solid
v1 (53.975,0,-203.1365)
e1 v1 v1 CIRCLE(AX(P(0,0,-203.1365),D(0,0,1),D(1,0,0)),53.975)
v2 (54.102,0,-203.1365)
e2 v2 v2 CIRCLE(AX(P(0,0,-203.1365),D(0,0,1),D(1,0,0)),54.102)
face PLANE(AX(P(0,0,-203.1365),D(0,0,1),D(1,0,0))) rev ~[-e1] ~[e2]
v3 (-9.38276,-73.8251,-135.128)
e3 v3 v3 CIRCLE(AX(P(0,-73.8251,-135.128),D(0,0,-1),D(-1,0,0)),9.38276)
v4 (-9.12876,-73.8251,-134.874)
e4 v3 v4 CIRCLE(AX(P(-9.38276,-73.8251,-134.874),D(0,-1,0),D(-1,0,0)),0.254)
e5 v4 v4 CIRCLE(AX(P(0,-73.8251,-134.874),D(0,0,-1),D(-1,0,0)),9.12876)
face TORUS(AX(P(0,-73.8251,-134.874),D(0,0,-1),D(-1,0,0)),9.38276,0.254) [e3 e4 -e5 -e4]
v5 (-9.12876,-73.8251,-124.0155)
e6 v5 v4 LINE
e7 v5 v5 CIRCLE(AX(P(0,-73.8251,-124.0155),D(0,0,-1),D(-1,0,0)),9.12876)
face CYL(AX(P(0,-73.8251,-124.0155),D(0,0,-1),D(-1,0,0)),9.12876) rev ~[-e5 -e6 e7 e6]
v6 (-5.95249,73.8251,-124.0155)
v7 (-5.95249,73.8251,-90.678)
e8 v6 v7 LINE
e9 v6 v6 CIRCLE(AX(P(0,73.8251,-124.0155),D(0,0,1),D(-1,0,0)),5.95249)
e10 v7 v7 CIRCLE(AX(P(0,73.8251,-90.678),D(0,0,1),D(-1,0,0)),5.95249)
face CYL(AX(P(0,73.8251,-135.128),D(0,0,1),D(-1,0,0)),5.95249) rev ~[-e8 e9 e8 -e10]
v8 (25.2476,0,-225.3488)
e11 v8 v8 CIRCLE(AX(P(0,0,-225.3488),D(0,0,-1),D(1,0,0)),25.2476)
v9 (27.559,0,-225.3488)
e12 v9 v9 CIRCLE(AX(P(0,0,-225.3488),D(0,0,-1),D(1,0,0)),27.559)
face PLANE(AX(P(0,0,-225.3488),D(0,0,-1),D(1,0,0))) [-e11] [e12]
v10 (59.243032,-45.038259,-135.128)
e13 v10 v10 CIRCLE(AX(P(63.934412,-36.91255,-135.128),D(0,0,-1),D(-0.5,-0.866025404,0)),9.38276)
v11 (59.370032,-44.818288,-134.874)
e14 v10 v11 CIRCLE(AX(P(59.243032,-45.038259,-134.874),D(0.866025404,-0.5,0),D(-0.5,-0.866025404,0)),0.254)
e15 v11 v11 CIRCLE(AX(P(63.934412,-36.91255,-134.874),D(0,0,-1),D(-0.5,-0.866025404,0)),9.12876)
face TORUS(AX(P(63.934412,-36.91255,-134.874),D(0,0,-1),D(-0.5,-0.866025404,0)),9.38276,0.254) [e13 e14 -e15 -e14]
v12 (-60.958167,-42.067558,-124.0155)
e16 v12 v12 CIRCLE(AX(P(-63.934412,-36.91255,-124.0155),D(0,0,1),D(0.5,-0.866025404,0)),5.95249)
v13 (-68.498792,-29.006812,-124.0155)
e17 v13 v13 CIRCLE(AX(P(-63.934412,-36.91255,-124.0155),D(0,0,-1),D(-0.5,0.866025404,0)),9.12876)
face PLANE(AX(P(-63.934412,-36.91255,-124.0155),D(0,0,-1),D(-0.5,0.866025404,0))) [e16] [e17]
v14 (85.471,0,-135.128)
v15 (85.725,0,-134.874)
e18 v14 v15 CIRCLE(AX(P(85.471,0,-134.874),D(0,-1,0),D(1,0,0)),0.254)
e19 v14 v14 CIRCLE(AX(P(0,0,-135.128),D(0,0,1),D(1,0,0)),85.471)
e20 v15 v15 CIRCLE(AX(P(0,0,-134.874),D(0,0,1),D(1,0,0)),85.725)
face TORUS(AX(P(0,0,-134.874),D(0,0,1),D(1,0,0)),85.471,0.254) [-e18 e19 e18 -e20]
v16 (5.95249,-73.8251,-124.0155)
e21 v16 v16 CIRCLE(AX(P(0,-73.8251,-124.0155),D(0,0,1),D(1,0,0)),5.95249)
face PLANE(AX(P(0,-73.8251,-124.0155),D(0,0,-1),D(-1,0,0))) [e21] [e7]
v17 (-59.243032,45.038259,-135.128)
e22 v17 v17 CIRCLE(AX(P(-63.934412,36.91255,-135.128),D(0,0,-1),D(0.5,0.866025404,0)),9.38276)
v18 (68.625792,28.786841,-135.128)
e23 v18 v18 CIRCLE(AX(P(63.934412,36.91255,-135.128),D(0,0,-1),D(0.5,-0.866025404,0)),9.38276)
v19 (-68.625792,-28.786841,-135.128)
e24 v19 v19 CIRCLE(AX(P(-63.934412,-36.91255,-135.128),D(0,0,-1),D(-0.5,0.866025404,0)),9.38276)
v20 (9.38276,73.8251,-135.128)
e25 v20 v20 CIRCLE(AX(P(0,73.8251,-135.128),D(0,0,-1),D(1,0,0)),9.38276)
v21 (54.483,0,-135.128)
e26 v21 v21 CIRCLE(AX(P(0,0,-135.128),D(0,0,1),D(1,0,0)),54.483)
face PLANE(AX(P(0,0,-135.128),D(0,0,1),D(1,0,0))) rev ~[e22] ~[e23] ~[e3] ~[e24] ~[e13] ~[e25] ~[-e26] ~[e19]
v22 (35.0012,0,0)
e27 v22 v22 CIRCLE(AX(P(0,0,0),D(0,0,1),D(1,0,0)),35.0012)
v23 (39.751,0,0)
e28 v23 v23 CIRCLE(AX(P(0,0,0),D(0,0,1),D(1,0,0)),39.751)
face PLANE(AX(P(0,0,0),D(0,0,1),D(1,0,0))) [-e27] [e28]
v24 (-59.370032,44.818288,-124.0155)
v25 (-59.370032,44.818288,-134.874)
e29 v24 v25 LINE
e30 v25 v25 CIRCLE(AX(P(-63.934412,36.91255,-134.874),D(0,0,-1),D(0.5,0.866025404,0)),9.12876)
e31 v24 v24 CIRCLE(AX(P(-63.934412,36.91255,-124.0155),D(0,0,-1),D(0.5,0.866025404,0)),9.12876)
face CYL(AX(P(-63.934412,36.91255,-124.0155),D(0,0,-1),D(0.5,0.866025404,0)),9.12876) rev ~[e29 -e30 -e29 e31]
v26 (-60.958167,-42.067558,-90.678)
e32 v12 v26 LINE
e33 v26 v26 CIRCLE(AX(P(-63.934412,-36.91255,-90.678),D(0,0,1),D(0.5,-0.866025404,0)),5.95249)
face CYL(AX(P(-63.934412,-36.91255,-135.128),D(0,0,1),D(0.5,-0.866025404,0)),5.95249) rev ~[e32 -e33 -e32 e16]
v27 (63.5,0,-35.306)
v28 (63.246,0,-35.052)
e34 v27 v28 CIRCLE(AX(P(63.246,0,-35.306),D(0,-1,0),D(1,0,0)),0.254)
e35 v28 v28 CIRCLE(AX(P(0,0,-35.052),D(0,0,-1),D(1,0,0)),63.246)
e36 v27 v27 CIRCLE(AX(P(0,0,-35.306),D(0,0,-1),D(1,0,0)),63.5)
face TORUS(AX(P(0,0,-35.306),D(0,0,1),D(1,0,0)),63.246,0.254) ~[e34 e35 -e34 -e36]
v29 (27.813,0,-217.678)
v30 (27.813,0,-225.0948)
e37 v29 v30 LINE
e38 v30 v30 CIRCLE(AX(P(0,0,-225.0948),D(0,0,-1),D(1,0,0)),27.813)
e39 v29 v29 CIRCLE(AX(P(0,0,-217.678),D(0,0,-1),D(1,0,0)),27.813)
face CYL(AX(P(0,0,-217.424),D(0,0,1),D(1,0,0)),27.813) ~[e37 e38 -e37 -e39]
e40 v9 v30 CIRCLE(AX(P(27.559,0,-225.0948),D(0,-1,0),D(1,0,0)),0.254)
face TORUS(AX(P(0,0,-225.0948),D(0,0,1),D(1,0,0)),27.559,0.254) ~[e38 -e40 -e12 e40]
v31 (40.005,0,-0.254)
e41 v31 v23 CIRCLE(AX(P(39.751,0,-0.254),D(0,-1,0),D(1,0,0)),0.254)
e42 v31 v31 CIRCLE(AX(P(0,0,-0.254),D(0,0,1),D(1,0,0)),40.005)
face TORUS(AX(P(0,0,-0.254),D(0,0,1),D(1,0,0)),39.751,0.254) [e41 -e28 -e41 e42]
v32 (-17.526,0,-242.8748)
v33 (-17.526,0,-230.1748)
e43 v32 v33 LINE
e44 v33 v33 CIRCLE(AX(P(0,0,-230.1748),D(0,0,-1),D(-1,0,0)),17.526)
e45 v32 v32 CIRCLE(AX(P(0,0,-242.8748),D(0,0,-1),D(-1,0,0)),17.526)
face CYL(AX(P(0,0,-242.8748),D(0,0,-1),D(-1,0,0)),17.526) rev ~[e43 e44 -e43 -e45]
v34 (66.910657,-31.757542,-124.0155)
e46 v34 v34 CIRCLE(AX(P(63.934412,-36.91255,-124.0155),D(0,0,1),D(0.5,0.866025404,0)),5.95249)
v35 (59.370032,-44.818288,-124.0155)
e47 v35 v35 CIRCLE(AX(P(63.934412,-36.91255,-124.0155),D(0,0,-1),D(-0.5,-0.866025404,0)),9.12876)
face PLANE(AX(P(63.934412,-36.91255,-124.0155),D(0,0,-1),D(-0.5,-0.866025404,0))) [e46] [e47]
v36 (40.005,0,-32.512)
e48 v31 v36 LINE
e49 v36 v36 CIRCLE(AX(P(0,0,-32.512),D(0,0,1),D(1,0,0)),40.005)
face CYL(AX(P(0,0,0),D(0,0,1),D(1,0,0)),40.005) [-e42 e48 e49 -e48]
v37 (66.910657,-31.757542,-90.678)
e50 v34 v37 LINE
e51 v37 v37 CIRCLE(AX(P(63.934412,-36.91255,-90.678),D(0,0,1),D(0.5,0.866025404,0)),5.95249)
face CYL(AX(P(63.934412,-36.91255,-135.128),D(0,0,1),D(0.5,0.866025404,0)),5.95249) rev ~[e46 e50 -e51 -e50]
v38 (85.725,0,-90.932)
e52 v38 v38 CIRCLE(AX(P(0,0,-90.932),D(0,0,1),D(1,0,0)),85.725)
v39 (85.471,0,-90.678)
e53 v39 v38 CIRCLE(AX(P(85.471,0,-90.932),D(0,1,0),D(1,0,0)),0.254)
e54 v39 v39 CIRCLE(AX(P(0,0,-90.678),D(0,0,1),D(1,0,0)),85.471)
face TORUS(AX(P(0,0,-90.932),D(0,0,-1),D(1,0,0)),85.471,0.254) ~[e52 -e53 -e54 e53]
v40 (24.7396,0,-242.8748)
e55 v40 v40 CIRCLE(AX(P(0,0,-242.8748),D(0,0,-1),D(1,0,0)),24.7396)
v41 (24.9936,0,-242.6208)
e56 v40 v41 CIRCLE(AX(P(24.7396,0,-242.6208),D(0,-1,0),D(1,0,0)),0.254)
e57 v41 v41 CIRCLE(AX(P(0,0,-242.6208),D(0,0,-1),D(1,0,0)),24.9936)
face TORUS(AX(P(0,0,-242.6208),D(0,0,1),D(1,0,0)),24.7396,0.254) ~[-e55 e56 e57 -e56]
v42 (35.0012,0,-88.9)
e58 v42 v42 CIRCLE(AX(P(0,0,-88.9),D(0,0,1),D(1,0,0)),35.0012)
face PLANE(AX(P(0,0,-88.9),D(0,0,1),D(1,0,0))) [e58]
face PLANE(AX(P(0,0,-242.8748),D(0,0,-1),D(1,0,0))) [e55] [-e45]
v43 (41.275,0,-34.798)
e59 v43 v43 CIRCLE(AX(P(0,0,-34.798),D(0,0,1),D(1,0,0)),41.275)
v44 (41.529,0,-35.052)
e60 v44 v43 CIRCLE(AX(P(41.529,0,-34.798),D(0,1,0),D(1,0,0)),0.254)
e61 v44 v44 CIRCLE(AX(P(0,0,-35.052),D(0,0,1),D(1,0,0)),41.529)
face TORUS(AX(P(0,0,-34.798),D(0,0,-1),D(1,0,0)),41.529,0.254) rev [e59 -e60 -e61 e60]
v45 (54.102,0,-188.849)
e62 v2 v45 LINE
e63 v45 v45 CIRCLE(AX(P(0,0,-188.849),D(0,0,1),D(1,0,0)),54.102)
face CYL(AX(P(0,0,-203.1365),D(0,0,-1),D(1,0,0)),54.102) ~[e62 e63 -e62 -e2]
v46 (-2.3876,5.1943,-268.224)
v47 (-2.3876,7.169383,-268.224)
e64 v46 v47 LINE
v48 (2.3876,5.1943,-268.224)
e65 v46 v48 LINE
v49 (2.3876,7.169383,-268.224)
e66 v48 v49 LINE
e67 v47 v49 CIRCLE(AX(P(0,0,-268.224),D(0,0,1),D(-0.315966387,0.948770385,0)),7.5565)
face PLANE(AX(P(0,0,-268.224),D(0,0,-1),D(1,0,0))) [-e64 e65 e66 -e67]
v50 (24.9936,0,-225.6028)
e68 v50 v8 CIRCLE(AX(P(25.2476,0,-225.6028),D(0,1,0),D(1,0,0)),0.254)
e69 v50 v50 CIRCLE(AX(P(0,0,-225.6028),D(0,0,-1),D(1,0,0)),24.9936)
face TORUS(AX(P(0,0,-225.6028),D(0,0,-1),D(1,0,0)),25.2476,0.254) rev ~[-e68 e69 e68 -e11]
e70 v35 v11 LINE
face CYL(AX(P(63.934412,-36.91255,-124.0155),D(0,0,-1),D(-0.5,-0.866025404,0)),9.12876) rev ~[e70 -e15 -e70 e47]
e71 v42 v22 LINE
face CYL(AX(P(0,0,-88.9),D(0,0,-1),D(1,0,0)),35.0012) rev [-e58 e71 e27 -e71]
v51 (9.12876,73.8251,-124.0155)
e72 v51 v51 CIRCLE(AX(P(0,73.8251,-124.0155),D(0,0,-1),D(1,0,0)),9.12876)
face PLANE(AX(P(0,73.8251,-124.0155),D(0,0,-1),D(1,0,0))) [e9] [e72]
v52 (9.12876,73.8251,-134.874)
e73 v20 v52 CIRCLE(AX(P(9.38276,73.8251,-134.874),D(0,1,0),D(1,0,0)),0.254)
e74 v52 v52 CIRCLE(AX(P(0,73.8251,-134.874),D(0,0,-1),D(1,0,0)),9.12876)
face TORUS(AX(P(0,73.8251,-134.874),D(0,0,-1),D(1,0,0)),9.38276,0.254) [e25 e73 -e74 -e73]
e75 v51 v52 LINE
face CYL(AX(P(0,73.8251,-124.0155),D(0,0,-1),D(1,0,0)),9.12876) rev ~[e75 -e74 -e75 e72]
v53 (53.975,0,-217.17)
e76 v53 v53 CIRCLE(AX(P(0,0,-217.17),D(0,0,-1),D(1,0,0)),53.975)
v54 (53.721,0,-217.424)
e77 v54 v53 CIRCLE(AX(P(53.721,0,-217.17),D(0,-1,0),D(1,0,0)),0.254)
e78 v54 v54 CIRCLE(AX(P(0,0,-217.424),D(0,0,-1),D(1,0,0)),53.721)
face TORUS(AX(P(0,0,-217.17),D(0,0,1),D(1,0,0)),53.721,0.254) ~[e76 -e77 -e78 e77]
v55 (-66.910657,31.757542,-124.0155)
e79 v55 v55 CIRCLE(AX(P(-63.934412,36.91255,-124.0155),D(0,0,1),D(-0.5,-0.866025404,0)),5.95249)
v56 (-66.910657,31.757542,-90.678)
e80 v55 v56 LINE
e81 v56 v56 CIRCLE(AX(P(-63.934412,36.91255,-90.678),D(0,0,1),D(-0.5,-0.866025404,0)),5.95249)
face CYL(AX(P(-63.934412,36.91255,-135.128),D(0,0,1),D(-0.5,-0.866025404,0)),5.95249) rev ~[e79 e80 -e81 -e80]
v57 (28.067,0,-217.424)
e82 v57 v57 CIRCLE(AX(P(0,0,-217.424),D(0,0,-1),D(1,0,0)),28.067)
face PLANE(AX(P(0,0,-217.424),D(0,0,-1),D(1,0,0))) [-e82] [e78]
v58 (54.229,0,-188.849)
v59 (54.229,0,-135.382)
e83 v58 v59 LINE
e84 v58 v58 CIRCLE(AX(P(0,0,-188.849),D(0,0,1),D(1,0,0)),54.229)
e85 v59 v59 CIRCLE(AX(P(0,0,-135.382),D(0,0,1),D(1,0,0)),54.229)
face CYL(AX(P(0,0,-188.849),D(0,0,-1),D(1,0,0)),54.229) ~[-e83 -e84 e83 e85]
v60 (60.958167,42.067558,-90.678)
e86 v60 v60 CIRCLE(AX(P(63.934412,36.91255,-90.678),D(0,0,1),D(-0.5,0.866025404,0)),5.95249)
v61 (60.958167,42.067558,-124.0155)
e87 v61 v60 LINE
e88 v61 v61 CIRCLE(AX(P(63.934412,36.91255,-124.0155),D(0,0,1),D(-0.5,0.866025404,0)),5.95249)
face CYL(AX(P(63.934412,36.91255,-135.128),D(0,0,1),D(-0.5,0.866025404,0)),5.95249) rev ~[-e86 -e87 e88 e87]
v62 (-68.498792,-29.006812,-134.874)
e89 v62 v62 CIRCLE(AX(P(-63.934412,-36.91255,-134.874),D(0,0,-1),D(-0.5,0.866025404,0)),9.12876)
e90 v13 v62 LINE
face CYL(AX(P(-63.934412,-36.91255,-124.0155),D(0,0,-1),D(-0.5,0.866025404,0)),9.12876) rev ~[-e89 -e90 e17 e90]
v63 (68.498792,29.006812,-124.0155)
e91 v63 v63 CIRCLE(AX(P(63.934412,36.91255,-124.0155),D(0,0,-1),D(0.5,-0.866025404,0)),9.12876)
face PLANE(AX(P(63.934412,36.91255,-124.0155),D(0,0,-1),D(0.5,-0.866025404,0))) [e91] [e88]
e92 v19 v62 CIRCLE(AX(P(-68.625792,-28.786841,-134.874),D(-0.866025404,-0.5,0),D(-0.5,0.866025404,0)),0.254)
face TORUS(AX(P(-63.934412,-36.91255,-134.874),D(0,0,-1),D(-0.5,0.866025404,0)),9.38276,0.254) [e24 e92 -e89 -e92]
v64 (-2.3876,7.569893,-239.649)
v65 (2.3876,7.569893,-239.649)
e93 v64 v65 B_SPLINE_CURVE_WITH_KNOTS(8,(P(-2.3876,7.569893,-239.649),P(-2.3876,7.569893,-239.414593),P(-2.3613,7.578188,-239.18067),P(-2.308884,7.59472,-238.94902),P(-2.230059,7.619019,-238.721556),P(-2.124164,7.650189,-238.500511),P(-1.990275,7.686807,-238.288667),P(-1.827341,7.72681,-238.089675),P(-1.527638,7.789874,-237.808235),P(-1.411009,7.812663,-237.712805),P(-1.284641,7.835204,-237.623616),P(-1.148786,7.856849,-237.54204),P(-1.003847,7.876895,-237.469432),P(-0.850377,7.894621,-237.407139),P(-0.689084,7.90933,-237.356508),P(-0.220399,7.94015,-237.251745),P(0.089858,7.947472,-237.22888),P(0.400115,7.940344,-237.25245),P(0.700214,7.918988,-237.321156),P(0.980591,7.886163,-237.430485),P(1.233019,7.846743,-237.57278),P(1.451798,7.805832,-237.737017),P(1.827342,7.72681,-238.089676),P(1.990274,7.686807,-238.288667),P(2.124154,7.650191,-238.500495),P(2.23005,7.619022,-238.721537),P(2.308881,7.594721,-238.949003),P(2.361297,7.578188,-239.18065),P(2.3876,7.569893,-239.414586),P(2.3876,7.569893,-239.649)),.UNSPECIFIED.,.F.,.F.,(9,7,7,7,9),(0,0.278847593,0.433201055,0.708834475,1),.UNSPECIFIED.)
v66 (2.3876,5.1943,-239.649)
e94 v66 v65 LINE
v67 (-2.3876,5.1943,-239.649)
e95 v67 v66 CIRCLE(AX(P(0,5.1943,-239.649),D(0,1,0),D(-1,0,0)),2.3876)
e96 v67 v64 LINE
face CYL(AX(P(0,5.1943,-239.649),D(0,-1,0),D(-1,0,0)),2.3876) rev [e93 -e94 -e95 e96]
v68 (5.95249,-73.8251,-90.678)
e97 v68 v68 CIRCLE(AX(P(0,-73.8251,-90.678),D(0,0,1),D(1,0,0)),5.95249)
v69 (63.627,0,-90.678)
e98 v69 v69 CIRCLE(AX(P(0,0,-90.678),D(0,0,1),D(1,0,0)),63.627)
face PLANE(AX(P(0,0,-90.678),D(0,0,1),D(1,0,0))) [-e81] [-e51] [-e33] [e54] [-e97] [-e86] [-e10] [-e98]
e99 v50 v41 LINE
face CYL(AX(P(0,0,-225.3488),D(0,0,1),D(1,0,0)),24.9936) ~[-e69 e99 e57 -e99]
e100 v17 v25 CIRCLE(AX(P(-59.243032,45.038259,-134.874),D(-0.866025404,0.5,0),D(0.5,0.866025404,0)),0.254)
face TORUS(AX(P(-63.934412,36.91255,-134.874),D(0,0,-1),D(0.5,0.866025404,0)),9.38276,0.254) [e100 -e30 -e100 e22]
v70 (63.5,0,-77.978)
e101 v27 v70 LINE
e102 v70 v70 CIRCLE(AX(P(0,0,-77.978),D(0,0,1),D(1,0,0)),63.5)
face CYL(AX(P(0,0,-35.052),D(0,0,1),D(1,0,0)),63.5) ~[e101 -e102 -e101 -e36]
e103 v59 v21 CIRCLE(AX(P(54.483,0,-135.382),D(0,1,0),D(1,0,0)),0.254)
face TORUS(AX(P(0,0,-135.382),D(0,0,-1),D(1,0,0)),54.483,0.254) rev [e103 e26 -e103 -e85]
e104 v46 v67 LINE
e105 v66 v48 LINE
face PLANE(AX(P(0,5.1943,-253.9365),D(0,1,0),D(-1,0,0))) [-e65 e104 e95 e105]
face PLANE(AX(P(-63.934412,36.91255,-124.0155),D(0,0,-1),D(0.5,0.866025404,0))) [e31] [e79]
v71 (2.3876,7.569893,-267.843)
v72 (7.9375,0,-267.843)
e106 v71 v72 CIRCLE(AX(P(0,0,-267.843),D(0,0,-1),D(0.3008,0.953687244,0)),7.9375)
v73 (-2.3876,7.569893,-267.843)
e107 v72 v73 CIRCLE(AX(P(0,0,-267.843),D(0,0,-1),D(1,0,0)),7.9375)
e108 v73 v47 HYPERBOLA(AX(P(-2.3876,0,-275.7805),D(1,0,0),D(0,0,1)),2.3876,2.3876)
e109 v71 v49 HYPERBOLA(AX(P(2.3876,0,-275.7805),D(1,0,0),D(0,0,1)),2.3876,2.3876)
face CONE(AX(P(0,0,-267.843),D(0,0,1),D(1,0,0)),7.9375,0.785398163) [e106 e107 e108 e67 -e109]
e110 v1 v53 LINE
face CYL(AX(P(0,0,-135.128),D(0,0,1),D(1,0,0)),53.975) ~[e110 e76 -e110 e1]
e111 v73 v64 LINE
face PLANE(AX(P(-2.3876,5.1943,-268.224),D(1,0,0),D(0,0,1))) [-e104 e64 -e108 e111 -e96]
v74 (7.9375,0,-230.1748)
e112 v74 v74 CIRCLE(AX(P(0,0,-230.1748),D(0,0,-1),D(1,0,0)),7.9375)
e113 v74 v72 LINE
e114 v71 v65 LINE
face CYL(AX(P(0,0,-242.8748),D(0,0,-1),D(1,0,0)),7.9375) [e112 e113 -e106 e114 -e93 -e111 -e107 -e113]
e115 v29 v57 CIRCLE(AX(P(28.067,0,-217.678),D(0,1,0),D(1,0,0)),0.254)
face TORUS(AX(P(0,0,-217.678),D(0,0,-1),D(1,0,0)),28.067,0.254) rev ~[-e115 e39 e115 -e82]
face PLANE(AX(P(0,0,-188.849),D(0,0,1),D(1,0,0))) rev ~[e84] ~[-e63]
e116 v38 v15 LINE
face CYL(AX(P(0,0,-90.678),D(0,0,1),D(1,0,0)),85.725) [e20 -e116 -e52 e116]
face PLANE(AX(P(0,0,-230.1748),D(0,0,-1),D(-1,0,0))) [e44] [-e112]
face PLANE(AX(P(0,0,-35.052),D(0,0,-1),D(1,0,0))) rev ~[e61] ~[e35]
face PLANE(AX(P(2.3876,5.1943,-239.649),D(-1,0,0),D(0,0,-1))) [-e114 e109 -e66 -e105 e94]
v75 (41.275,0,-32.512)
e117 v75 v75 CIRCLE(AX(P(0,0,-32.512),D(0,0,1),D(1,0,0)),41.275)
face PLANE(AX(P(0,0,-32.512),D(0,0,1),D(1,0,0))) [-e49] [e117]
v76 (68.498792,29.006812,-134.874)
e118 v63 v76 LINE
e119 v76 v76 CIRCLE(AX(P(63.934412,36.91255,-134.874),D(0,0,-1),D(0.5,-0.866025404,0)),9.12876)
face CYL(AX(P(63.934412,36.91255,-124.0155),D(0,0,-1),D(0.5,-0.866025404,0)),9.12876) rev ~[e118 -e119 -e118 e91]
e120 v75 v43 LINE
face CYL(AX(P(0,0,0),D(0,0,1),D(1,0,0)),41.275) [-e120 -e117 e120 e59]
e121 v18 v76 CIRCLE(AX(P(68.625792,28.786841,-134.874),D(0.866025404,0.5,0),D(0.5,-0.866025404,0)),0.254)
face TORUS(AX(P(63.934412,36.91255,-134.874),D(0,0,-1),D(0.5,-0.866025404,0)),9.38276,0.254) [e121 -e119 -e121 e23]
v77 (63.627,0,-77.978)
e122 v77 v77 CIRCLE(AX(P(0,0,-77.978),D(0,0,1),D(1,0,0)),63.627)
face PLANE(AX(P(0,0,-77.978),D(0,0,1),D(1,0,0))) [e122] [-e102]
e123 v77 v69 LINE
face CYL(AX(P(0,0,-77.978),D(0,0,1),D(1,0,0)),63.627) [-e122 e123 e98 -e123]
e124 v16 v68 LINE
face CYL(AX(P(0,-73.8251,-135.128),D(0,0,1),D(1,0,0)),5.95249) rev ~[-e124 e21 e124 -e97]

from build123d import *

# Parameters (mm, degrees)
SKETCH1_R                 = 41.275
EXTRUDE_E_DEPTH           = 35.052
SKETCH2_R                 = 41.275
SKETCH2_R_2               = 40.005
FROM_DRAWING_DEPTH        = 32.512
SKETCH3_R                 = 63.5
EXTRUDE_C_DEPTH           = 55.626
SKETCH4_R                 = 63.627
SKETCH4_R_2               = 63.5
BOSS_EXTRUDE3_DEPTH       = 12.7
SKETCH5_R                 = 85.725
EXTRUDE_B_DEPTH           = 44.45
CUT_EXTRUDE_START         = -88.9
SKETCH6_R                 = 35.0012
CUT_EXTRUDE_F_DEPTH       = 88.9
SKETCH8_R                 = 53.975
EXTRUDE_D_DEPTH           = 82.296
BOSS_EXTRUDE6_START       = 14.2875
SKETCH9_R                 = 54.102
BOSS_EXTRUDE6_DEPTH       = 14.2875
SKETCH10_R                = 54.229
BOSS_EXTRUDE7_DEPTH       = 53.721
SKETCH11_R                = 27.813
FROM_DRAWING_2_DEPTH      = 7.9248
SKETCH12_R                = 24.9936
EXTRUDE_Q_DEPTH           = 17.526
SKETCH13_R                = 7.9375
EXTRUDE_R_DEPTH           = 25.3492
HOLE_WIZARD_S_D           = 11.90498
HOLE_WIZARD_S_CBORE_D     = 18.25752
HOLE_WIZARD_S_CBORE_DEPTH = 11.1125
CIRPATTERN1_COUNT         = 6
SKETCH16_R                = 17.526
SKETCH16_R_2              = 7.9375
CUT_EXTRUDE3_DEPTH        = 12.7
CUT_EXTRUDE_T_REACH       = 82.531
CUT_EXTRUDE_T_END_RADIUS  = 7.9375
CHAMFER1_SIZE             = 0.381
FILLET1_R                 = 0.254


with BuildPart() as part:
    # Sketch1 → Extrude E (new body)
    with BuildSketch(Plane.XY):
        Circle(SKETCH1_R)
    extrude(amount=-EXTRUDE_E_DEPTH)

    # Sketch2 → from drawing (cut)
    with BuildSketch(Plane.XY):
        Circle(SKETCH2_R)
        Circle(SKETCH2_R_2, mode=Mode.SUBTRACT)
    extrude(amount=-FROM_DRAWING_DEPTH, mode=Mode.SUBTRACT)

    # Sketch3 → Extrude C (add)
    with BuildSketch(Plane(origin=(0, 0, -35.052), x_dir=(-1, 0, 0), z_dir=(0, 0, -1))):
        with Locations(Location((0, 0, 0), (0, 0, 180))):  # turned: the seam where the file's is
            Circle(SKETCH3_R)
    extrude(amount=EXTRUDE_C_DEPTH)

    # Sketch4 → Boss-Extrude3 (add)
    with BuildSketch(Plane.XY.offset(-77.978)):
        Circle(SKETCH4_R)
        Circle(SKETCH4_R_2, mode=Mode.SUBTRACT)
    extrude(amount=-BOSS_EXTRUDE3_DEPTH)

    # Sketch5 → Extrude B (add)
    with BuildSketch(Plane.XY.offset(-90.678)):
        Circle(SKETCH5_R)
    extrude(amount=-EXTRUDE_B_DEPTH)

    # Sketch6 → Cut-Extrude F (cut)
    with BuildSketch(Plane.XY.offset(CUT_EXTRUDE_START)):
        Circle(SKETCH6_R)
    extrude(amount=CUT_EXTRUDE_F_DEPTH, mode=Mode.SUBTRACT)

    # Sketch8 → Extrude D (add)
    with BuildSketch(Plane(origin=(0, 0, -135.128), x_dir=(-1, 0, 0), z_dir=(0, 0, -1))):
        with Locations(Location((0, 0, 0), (0, 0, 180))):  # turned: the seam where the file's is
            Circle(SKETCH8_R)
    extrude(amount=EXTRUDE_D_DEPTH)

    # Sketch9 → Boss-Extrude6 (add)
    with BuildSketch(Plane.XY.offset(-217.424).offset(BOSS_EXTRUDE6_START)):
        Circle(SKETCH9_R)
    extrude(amount=BOSS_EXTRUDE6_DEPTH)

    # Sketch10 → Boss-Extrude7 (add)
    with BuildSketch(Plane.XY.offset(-188.849)):
        Circle(SKETCH10_R)
    extrude(amount=BOSS_EXTRUDE7_DEPTH)

    # Sketch11 → from drawing 2 (add)
    with BuildSketch(Plane(origin=(0, 0, -217.424), x_dir=(-1, 0, 0), z_dir=(0, 0, -1))):
        with Locations(Location((0, 0, 0), (0, 0, 180))):  # turned: the seam where the file's is
            Circle(SKETCH11_R)
    extrude(amount=FROM_DRAWING_2_DEPTH)

    # Sketch12 → Extrude Q (add)
    with BuildSketch(Plane(origin=(0, 0, -225.3488), x_dir=(-1, 0, 0), z_dir=(0, 0, -1))):
        with Locations(Location((0, 0, 0), (0, 0, 180))):  # turned: the seam where the file's is
            Circle(SKETCH12_R)
    extrude(amount=EXTRUDE_Q_DEPTH)

    # Sketch13 → Extrude R (add)
    with BuildSketch(Plane(origin=(0, 0, -242.8748), x_dir=(-1, 0, 0), z_dir=(0, 0, -1))):
        with Locations(Location((0, 0, 0), (0, 0, 180))):  # turned: the seam where the file's is
            Circle(SKETCH13_R)
    extrude(amount=EXTRUDE_R_DEPTH)

    # Hole Wizard S (through all)
    with Locations(Plane(origin=(0, 0, -135.128), x_dir=(-1, 0, 0), z_dir=(0, 0, -1))):
        with Locations((0, -73.8251)):
            hole_wizard_s = CounterBoreHole(HOLE_WIZARD_S_D / 2, HOLE_WIZARD_S_CBORE_D / 2, HOLE_WIZARD_S_CBORE_DEPTH)

    # CirPattern1: Hole Wizard S ×6 about axis
    cirpattern1_axis = Axis((0, 0, 0), (0, 0, 1))
    for i in range(1, CIRPATTERN1_COUNT):
        add(hole_wizard_s.rotate(cirpattern1_axis, i * 360 / CIRPATTERN1_COUNT), mode=Mode.SUBTRACT)

    # Sketch16 → Cut-Extrude3 (cut)
    with BuildSketch(Plane(origin=(0, 0, -242.8748), x_dir=(-1, 0, 0), z_dir=(0, 0, -1))):
        Circle(SKETCH16_R)
        with Locations(Location((0, 0, 0), (0, 0, 180))):  # turned: the seam where the file's is
            Circle(SKETCH16_R_2, mode=Mode.SUBTRACT)
    extrude(amount=-CUT_EXTRUDE3_DEPTH, mode=Mode.SUBTRACT)

    # Cut-Extrude T: up to this cylinder (the profile starts inside it)
    cut_extrude_t_end = Plane(origin=(0, 0, -253.9365), z_dir=(0, 0, 1)) * Cylinder(CUT_EXTRUDE_T_END_RADIUS, 181.937, mode=Mode.PRIVATE)
    # Sketch17 → Cut-Extrude T (cut, up to the surface)
    with BuildSketch(Plane.XZ.offset(-5.1943), mode=Mode.PRIVATE) as cut_extrude_t_sk1:
        with BuildLine():
            Line((-2.3876, -268.224), (-2.3876, -239.649))
            ThreePointArc((-2.3876, -239.649), (0, -237.2614), (2.3876, -239.649))
            Line((2.3876, -239.649), (2.3876, -268.224))
            ThreePointArc((2.3876, -268.224), (0, -270.6116), (-2.3876, -268.224))
        make_face()
    cut_extrude_t_tool1 = extrude(cut_extrude_t_sk1.sketch, amount=-CUT_EXTRUDE_T_REACH, mode=Mode.PRIVATE) & cut_extrude_t_end
    add(cut_extrude_t_tool1.solids().sort_by_distance((0, 5.1943, -253.9365))[0], mode=Mode.SUBTRACT)

    # Chamfer1
    chamfer1_edges = [part.edges().sort_by_distance(p)[0] for p in [
        (-4.693204196, -6.401385836, -268.224),
    ]]
    chamfer(chamfer1_edges, length=CHAMFER1_SIZE)

    # Fillet1
    fillet1_edges = [part.edges().sort_by_distance(p)[0] for p in [
        (-59.370032037, -44.818288065, -135.128),
        (-40.005, 0, 0),
        (-63.5, 0, -35.052),
        (-85.725, 0, -90.678),
        (-85.725, 0, -135.128),
        (-53.975, 0, -217.424),
        (-41.275, 0, -35.052),
        (-54.229, 0, -135.128),
        (-27.813, 0, -217.424),
        (-27.813, 0, -225.3488),
        (-24.9936, 0, -225.3488),
        (-24.9936, 0, -242.8748),
        (9.12876, -73.8251, -135.128),
        (68.498792037, -29.006811935, -135.128),
        (59.370032037, 44.818288065, -135.128),
        (-9.12876, 73.8251, -135.128),
        (-68.498792037, 29.006811935, -135.128),
    ]]
    fillet(fillet1_edges, radius=FILLET1_R)


solid = part.part
